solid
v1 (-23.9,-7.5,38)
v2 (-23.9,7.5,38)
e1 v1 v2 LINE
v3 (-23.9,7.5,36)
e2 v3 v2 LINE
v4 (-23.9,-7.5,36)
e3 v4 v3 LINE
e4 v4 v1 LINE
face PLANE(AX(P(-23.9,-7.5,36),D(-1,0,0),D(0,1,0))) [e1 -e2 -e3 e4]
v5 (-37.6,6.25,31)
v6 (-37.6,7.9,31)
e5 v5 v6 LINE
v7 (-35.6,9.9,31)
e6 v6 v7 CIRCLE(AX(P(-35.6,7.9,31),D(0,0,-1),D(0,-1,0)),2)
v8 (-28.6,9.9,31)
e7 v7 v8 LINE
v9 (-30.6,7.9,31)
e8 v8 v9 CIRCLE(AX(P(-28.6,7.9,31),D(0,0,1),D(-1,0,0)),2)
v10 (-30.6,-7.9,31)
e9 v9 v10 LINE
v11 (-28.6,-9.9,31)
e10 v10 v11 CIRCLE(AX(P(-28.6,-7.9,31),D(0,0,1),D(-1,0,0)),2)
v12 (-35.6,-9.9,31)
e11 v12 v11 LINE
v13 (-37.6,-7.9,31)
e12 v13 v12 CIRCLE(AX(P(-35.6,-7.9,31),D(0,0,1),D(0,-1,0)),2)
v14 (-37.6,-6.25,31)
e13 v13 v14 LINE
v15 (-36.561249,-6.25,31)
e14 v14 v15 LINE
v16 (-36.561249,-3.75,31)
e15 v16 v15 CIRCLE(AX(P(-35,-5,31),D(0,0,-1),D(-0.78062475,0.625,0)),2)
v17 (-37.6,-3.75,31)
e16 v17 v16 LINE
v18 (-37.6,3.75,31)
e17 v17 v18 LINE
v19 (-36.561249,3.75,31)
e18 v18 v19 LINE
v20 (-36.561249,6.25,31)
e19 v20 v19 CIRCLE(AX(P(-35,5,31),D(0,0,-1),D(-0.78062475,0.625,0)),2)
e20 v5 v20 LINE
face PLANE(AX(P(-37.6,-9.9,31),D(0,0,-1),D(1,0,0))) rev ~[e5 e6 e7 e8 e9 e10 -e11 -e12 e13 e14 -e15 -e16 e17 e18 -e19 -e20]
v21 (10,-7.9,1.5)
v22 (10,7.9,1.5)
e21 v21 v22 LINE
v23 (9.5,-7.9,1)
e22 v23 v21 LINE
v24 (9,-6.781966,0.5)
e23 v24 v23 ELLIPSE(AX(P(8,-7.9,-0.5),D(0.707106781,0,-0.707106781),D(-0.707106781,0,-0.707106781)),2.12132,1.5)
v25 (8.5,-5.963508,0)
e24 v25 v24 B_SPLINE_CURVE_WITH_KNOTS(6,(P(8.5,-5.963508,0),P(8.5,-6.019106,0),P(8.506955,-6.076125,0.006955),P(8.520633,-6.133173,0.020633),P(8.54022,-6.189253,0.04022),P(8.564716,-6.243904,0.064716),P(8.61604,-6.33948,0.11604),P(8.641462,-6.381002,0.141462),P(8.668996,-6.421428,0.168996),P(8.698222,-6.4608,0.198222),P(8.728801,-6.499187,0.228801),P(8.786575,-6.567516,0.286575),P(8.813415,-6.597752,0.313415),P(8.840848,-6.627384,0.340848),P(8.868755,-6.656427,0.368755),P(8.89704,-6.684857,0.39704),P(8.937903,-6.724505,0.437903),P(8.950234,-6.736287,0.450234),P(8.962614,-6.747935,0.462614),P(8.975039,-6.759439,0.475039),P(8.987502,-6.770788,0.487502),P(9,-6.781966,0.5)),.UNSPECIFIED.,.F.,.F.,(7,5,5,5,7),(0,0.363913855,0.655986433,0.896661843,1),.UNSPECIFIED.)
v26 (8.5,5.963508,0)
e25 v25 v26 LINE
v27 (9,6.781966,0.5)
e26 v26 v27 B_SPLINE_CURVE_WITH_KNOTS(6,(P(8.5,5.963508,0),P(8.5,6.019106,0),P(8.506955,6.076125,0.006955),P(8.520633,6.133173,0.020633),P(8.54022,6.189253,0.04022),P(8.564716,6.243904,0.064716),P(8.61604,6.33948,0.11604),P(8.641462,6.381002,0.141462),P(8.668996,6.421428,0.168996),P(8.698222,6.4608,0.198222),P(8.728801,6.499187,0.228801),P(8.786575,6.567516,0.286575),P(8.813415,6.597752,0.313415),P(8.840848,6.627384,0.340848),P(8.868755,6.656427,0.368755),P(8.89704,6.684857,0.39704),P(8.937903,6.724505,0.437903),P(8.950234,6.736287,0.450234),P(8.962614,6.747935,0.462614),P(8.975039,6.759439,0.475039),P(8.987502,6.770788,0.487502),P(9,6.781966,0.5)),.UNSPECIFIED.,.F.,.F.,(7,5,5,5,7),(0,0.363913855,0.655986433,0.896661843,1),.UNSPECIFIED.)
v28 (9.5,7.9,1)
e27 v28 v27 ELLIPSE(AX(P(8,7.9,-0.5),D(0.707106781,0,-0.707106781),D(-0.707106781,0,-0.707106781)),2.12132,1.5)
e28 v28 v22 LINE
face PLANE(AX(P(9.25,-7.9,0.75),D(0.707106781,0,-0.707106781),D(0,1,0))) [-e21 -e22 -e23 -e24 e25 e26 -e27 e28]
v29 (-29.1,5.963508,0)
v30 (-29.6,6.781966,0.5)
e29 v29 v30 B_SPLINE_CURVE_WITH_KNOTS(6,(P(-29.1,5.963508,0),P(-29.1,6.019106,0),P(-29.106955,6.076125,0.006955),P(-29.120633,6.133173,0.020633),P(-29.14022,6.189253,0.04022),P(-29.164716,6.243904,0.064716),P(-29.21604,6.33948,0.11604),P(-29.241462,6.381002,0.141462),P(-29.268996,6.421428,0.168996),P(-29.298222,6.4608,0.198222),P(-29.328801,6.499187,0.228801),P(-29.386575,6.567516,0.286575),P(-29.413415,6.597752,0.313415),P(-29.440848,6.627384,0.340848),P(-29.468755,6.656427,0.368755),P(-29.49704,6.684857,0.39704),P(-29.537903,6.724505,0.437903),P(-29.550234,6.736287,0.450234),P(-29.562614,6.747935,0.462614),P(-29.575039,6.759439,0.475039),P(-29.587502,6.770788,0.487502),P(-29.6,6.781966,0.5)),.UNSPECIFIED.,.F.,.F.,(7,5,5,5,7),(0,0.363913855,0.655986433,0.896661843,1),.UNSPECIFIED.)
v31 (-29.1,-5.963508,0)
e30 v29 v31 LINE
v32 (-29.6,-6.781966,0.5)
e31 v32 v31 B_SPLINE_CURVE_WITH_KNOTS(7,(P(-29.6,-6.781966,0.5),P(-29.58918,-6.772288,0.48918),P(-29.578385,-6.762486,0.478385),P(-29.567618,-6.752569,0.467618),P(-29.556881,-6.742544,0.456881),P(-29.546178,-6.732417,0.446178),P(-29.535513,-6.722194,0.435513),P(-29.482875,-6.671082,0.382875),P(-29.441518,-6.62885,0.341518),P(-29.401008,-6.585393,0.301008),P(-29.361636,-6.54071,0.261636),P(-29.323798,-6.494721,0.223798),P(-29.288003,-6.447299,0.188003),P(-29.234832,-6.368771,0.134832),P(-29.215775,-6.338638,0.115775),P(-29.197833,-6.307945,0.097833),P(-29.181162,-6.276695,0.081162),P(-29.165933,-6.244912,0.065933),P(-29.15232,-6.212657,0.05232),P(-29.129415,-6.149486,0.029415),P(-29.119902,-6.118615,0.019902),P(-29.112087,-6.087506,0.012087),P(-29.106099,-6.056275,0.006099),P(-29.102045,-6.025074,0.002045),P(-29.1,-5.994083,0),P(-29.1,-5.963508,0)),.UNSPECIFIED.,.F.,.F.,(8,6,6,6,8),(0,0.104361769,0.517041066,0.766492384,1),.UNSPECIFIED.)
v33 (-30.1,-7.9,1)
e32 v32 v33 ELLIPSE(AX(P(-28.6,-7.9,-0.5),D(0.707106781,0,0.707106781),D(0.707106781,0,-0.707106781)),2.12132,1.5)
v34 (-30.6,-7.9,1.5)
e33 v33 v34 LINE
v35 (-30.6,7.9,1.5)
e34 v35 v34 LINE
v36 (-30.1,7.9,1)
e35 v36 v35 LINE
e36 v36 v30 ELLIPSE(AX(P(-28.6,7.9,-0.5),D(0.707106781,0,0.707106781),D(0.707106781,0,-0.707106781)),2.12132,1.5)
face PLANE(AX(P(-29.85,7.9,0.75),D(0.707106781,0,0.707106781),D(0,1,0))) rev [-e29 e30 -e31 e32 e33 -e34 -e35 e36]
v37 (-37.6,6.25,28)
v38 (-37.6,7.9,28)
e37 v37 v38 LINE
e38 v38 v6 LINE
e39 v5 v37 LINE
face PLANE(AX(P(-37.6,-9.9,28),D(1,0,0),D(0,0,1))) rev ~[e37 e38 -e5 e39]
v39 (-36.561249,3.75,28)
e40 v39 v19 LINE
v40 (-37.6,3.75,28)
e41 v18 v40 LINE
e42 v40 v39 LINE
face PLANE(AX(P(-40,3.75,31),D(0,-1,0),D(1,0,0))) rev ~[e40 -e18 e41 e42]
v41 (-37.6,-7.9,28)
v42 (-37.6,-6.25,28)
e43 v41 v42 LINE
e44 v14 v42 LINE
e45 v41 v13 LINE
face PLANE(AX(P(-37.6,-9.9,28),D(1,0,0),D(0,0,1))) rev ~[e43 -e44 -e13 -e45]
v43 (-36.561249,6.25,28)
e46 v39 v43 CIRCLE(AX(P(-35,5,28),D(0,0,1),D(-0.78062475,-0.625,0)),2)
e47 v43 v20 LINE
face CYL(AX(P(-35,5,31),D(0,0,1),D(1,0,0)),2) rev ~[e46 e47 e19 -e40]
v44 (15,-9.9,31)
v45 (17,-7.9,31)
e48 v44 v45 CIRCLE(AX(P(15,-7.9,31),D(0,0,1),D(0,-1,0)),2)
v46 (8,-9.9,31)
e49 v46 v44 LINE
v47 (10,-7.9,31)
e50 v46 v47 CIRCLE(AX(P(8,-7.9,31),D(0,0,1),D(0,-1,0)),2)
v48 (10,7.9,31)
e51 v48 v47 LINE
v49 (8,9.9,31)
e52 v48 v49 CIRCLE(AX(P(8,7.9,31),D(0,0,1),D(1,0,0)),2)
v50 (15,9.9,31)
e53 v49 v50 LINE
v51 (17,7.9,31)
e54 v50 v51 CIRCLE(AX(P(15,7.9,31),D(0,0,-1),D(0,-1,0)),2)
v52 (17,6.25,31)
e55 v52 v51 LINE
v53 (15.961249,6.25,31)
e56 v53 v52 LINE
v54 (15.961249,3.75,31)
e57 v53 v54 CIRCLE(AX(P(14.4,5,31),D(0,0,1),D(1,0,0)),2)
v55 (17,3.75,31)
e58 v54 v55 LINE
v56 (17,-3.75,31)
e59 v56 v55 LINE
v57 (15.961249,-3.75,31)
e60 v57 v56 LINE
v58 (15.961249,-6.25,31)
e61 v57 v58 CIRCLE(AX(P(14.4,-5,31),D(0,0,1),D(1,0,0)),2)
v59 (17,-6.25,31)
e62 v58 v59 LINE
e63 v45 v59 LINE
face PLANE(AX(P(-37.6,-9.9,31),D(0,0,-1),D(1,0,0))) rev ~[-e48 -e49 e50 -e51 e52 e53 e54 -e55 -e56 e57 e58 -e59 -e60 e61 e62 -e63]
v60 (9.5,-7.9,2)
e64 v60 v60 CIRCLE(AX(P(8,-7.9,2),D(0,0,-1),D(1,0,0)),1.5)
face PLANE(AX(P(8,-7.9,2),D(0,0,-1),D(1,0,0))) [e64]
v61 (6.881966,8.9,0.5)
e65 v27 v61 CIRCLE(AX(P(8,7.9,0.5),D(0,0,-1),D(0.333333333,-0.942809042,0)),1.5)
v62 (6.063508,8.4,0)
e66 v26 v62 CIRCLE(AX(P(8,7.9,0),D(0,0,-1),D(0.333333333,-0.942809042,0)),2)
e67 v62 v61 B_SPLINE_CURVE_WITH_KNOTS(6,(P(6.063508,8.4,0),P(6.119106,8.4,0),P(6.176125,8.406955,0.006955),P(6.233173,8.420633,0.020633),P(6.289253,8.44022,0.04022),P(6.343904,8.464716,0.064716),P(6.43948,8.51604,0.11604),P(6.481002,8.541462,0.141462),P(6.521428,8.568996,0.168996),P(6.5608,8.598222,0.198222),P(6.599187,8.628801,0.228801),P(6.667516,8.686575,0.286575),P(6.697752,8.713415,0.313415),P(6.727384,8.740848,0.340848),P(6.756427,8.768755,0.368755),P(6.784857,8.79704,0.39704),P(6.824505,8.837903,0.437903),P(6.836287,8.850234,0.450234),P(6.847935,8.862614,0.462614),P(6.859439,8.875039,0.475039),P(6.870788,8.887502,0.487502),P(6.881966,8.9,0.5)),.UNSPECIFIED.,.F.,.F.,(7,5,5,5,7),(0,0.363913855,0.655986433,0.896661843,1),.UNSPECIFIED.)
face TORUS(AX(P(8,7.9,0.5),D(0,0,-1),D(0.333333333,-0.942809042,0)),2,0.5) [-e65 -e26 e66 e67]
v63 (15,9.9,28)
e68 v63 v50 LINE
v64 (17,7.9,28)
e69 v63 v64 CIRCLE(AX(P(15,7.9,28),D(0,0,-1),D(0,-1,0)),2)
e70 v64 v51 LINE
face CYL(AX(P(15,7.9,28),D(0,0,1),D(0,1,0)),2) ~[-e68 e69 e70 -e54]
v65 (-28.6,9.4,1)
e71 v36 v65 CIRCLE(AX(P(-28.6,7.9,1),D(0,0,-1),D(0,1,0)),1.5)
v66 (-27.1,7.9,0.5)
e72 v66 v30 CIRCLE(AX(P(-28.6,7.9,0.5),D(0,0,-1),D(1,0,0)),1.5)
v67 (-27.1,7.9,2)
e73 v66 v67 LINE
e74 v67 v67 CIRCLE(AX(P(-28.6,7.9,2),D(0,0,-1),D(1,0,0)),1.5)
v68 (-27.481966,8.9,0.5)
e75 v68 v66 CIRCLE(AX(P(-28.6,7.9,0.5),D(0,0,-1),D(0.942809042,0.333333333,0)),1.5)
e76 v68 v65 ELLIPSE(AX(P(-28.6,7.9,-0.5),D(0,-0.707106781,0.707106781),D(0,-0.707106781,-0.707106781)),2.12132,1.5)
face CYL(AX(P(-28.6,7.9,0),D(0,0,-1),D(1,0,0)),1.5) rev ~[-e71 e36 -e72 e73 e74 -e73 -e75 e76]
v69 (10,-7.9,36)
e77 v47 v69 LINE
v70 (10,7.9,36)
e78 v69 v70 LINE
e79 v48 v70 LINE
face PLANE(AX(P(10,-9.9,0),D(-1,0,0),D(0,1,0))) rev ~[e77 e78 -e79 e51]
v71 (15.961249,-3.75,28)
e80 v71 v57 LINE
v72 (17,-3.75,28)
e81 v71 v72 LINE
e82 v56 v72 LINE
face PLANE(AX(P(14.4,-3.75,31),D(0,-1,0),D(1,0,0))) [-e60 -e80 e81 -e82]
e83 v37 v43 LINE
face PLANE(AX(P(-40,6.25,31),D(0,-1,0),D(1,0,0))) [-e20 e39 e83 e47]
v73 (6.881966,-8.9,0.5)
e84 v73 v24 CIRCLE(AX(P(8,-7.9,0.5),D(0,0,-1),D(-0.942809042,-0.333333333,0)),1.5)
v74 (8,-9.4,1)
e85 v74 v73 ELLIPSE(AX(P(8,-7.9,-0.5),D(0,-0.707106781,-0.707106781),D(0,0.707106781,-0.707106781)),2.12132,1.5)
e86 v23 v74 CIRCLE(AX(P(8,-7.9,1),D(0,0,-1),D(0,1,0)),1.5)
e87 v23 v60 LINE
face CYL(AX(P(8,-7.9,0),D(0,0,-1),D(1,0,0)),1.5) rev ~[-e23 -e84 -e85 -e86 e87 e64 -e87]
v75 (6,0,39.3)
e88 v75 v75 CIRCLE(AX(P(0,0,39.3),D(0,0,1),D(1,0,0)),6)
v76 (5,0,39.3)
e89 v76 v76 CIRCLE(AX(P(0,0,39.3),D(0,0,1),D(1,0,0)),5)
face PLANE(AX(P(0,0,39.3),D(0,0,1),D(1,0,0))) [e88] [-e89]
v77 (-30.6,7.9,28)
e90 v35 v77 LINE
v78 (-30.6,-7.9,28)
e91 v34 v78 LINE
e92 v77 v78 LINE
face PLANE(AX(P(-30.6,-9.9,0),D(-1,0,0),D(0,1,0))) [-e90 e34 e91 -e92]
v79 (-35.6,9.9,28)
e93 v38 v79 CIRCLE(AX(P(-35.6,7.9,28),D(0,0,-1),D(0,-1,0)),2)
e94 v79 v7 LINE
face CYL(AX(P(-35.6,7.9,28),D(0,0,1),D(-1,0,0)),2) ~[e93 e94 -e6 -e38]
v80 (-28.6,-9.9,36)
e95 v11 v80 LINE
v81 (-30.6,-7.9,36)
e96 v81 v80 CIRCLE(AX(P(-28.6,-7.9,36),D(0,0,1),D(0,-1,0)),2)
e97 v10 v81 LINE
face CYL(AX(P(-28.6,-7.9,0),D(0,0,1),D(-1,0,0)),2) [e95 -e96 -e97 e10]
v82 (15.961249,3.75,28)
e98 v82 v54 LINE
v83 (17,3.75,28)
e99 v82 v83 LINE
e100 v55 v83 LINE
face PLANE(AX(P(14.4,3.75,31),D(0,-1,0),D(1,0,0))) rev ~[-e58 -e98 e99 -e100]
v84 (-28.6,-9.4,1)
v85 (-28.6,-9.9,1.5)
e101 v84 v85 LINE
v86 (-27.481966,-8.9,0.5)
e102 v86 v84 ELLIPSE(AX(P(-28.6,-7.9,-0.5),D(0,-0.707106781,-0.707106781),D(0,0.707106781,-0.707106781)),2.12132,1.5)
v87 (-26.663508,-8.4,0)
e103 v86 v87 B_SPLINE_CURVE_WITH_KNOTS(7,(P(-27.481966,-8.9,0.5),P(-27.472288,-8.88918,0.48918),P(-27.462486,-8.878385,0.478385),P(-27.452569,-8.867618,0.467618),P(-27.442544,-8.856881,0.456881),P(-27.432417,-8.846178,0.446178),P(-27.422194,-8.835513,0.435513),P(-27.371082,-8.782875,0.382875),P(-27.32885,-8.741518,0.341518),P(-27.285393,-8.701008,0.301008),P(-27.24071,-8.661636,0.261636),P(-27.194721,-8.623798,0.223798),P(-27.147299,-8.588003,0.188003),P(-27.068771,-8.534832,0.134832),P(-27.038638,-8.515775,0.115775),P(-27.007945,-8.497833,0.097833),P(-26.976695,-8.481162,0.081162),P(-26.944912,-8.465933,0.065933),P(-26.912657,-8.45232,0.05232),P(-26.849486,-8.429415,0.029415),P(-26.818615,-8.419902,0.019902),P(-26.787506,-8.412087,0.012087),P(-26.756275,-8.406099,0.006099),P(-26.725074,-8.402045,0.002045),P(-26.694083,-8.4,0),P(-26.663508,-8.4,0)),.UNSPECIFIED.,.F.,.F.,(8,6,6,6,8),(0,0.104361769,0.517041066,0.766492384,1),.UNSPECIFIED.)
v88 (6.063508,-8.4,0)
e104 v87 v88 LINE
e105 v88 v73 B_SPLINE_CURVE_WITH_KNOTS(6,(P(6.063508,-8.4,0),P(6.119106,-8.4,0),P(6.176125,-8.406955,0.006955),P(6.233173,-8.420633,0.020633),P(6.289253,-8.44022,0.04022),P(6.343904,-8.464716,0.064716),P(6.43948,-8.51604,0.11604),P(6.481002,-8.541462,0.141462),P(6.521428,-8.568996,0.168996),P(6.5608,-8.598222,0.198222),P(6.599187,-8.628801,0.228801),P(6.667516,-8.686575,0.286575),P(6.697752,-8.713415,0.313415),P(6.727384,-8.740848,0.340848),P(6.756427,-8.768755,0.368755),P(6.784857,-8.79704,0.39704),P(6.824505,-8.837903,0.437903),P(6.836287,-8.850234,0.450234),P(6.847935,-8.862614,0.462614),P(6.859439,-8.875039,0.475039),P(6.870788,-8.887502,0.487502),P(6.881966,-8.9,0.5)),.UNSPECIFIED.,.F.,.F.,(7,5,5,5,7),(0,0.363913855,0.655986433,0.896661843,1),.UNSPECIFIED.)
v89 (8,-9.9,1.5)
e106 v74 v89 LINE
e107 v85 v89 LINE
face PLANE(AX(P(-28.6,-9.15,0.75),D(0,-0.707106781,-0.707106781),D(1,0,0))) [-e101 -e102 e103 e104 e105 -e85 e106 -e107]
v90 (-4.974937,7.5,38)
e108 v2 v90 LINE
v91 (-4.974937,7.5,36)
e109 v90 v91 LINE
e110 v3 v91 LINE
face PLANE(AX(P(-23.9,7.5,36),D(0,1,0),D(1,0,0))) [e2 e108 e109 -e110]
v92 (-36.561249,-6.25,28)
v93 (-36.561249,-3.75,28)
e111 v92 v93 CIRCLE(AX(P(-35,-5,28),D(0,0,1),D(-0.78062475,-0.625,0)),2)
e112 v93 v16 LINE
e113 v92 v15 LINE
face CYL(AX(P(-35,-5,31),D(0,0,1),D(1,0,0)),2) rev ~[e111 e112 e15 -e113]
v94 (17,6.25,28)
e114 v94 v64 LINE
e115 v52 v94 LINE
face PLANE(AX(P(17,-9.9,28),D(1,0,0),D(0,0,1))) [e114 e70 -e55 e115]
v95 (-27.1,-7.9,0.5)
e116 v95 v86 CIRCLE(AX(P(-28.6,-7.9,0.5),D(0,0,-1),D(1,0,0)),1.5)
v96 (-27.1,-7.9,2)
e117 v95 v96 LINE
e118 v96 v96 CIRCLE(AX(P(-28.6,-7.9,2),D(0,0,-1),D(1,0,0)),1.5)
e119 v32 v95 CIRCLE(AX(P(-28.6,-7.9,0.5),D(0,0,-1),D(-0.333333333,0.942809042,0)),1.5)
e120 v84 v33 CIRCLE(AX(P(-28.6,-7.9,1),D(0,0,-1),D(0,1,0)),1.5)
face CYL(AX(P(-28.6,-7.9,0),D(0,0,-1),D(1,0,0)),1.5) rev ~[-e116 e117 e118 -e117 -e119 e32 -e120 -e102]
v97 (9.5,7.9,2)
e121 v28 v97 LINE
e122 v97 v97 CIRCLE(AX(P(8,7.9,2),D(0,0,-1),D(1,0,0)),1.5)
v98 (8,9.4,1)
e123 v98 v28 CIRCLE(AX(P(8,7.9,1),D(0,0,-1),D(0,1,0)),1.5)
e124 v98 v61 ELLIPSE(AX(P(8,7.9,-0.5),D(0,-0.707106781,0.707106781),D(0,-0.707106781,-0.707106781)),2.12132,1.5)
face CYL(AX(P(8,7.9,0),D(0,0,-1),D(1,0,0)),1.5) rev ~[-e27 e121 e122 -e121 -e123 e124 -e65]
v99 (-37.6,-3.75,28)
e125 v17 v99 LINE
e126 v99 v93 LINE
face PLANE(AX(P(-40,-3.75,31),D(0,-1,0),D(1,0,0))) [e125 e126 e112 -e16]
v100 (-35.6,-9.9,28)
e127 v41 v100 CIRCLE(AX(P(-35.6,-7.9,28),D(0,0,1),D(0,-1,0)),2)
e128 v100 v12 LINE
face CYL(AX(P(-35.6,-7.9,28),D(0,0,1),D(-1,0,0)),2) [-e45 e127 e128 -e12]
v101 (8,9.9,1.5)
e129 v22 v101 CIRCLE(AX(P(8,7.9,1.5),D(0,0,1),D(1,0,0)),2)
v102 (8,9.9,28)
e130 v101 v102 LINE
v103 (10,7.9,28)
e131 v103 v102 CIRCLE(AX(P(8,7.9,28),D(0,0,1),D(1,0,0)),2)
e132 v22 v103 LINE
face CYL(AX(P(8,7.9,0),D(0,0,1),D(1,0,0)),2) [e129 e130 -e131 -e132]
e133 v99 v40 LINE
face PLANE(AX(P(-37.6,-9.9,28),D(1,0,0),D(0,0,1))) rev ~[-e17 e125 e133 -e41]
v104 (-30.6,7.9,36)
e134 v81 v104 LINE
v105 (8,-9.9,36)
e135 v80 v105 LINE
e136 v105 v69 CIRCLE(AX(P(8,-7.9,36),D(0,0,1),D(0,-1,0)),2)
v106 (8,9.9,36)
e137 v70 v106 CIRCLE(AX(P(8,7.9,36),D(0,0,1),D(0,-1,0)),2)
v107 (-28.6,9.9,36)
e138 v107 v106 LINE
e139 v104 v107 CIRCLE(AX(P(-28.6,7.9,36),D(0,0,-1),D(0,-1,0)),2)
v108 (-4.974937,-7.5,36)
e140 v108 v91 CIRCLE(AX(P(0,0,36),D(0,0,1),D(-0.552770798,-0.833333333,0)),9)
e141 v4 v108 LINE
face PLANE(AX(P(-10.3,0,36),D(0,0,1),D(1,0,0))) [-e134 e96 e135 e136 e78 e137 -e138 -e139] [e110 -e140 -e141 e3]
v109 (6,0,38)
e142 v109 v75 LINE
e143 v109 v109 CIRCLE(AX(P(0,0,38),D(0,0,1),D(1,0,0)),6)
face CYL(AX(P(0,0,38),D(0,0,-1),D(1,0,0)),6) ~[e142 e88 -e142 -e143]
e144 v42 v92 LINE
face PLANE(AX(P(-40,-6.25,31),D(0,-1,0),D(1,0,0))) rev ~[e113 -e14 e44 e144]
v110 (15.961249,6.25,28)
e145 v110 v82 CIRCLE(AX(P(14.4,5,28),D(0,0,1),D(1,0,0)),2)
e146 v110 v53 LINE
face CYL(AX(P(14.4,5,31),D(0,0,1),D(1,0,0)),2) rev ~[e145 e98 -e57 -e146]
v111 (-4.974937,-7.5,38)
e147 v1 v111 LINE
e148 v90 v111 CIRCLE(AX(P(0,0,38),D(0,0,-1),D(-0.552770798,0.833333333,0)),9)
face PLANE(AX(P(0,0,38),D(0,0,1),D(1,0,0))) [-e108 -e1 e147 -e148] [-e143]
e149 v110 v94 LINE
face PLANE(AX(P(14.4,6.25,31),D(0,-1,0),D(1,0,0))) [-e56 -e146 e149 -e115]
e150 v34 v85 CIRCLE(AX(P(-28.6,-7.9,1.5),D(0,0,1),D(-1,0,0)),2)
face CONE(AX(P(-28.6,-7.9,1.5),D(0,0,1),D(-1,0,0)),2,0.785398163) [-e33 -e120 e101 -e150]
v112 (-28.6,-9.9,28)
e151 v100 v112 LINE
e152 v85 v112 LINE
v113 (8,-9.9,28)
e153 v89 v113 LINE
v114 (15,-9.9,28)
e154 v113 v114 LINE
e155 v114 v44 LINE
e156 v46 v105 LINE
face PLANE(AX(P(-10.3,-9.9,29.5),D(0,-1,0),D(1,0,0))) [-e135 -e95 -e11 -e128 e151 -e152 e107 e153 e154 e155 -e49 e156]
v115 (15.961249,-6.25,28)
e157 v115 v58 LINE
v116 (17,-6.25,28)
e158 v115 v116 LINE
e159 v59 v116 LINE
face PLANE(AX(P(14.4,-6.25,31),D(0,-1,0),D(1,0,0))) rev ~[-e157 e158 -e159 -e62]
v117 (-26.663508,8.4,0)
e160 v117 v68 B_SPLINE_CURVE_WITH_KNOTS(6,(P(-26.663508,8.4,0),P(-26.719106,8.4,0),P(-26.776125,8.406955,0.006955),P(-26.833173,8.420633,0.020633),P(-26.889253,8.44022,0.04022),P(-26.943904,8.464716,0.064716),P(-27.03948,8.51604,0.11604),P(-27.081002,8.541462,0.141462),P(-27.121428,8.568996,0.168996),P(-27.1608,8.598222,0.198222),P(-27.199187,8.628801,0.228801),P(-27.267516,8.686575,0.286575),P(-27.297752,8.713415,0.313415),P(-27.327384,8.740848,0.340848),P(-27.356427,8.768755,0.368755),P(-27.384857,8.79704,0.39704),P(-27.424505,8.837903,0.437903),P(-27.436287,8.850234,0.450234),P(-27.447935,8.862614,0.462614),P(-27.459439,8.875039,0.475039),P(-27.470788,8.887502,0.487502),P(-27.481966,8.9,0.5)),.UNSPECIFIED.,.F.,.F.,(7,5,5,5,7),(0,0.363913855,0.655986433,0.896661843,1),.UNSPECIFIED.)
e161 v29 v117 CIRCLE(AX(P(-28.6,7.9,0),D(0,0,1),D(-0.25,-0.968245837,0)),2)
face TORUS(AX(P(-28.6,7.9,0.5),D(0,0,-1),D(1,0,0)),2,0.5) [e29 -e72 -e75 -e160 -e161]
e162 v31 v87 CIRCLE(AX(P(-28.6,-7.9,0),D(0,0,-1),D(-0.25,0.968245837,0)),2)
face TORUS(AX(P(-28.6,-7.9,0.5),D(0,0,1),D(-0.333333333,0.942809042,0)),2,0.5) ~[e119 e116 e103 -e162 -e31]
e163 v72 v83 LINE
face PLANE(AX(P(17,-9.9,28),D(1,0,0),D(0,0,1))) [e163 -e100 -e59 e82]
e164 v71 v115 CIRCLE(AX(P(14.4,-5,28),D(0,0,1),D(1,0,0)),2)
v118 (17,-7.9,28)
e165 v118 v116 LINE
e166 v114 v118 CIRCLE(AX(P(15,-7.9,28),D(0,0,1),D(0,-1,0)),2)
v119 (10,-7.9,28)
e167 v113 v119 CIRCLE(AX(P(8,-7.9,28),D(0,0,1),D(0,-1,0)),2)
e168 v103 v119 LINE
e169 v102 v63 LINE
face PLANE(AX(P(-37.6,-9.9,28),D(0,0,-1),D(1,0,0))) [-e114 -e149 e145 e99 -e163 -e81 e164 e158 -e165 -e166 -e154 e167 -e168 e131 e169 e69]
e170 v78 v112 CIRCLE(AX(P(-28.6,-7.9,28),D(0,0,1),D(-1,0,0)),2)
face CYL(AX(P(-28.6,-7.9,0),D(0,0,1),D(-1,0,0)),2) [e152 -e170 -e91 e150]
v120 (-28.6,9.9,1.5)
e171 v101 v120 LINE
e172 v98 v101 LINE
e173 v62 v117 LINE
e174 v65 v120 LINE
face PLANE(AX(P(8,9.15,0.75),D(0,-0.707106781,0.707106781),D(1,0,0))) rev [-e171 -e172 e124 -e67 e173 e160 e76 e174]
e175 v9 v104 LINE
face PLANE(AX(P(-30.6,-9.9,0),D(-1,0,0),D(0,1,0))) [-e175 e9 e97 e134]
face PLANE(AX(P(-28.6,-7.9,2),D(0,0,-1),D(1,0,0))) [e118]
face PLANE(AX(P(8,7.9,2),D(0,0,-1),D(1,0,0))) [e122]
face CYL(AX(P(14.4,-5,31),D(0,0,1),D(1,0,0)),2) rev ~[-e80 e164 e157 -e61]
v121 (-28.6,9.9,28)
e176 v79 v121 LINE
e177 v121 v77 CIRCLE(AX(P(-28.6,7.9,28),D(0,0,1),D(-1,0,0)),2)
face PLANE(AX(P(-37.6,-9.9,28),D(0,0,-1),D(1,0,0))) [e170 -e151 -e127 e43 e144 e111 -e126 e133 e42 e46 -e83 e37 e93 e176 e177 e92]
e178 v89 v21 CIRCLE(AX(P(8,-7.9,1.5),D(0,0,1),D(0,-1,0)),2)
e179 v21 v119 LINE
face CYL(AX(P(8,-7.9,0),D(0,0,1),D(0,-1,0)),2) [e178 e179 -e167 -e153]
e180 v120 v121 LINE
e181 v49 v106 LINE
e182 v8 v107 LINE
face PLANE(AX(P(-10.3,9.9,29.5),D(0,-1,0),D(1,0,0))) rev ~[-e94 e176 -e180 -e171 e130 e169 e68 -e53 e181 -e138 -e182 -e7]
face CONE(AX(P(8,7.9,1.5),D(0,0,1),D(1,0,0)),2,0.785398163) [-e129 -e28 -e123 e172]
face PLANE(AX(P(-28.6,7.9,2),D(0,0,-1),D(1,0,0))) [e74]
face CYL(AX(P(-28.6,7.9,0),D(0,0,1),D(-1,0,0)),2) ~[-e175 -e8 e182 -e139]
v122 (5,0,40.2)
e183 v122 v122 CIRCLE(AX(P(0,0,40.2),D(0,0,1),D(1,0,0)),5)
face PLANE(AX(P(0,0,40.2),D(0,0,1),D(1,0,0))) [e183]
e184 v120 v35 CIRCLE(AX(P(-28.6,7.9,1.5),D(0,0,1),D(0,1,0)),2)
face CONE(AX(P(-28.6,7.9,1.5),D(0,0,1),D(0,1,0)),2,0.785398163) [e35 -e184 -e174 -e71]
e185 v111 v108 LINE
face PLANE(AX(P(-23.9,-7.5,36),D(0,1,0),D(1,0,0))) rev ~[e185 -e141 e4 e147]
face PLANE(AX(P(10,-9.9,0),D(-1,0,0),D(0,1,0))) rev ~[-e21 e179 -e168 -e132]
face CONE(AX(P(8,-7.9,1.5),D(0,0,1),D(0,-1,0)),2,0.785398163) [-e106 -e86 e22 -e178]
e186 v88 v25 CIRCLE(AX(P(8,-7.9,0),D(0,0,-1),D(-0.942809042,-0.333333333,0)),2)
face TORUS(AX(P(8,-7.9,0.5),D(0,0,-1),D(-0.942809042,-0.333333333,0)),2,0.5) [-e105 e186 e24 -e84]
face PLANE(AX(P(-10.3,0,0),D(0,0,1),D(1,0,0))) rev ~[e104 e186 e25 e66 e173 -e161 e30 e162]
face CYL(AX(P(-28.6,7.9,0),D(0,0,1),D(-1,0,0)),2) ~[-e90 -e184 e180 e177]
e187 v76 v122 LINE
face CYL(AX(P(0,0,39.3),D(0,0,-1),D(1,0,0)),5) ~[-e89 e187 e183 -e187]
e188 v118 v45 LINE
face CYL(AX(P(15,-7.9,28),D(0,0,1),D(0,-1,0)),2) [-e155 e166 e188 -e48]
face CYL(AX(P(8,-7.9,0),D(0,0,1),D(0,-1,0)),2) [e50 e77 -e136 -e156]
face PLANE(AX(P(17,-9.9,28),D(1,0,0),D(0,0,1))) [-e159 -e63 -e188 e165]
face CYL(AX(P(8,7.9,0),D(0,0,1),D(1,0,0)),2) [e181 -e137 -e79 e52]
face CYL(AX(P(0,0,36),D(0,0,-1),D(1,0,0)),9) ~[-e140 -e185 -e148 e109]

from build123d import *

# Parameters (mm, degrees)
SKETCH007_R      = 6
EXTRUDE007_DEPTH = 1.3
SKETCH008_R      = 5
EXTRUDE008_DEPTH = 0.9
SKETCH004_W      = 5
SKETCH004_H      = 2.5
EXTRUDE004_DEPTH = 3
SKETCH003_R      = 2
EXTRUDE003_DEPTH = 3
SKETCH002_W      = 54.6
SKETCH002_H      = 3
EXTRUDE002_DEPTH = 19.8
SKETCH001_R      = 1.5
EXTRUDE001_DEPTH = 2
SKETCH_W         = 40.6
SKETCH_H         = 19.8
EXTRUDE_DEPTH    = 36
FILLET_R         = 2
CHAMFER_SIZE     = 1.5
FILLET001_R      = 0.5
FILLET002_R      = 2
SKETCH005_R      = 9
EXTRUDE005_DEPTH = 2
SKETCH006_W      = 23.9
SKETCH006_H      = 15
EXTRUDE006_DEPTH = 2


with BuildPart() as extrude007:
    # Sketch007 (on Face81 of Fusion002) → Extrude007 (new body)
    with BuildSketch(Plane.XY.offset(38)):
        Circle(SKETCH007_R)
    extrude(amount=EXTRUDE007_DEPTH)


with BuildPart() as extrude008:
    # Sketch008 (on Face3 of Extrude007) → Extrude008 (new body)
    with BuildSketch(Plane.XY.offset(39.3)):
        Circle(SKETCH008_R)
    extrude(amount=EXTRUDE008_DEPTH)


with BuildPart() as extrude004:
    # Sketch004 (on Face13 of Cut001) → Extrude004 (new body)
    with BuildSketch(Plane.XY.offset(31)):
        with Locations((-37.5, 5)):
            Rectangle(SKETCH004_W, SKETCH004_H)
        with Locations((16.9, 5)):
            Rectangle(SKETCH004_W, SKETCH004_H)
        with Locations((16.9, -5)):
            Rectangle(SKETCH004_W, SKETCH004_H)
        with Locations((-37.5, -5)):
            Rectangle(SKETCH004_W, SKETCH004_H)
    extrude(amount=-EXTRUDE004_DEPTH)


with BuildPart() as extrude003:
    # Sketch003 (on Face11 of Fillet002) → Extrude003 (new body)
    with BuildSketch(Plane.XY.offset(31)):
        with Locations((-35, 5)):
            Circle(SKETCH003_R)
        with Locations((-35, -5)):
            Circle(SKETCH003_R)
        with Locations((14.4, 5)):
            Circle(SKETCH003_R)
        with Locations((14.4, -5)):
            Circle(SKETCH003_R)
    extrude(amount=-EXTRUDE003_DEPTH)


with BuildPart() as extrude002:
    # Sketch002 (on Face6 of Fillet001) → Extrude002 (new body)
    with BuildSketch(Plane.XZ.offset(9.9)):
        with Locations((-10.3, 29.5)):
            Rectangle(SKETCH002_W, SKETCH002_H)
    extrude(amount=-EXTRUDE002_DEPTH)


with BuildPart() as extrude001:
    # Sketch001 (on Face8 of Chamfer) → Extrude001 (new body)
    with BuildSketch(Plane(origin=(0, 0, 0), x_dir=(1, 0, 0), z_dir=(0, 0, -1))):
        with Locations((-28.6, 7.9)):
            Circle(SKETCH001_R)
        with Locations((8, 7.9)):
            Circle(SKETCH001_R)
        with Locations((-28.6, -7.9)):
            Circle(SKETCH001_R)
        with Locations((8, -7.9)):
            Circle(SKETCH001_R)
    extrude(amount=-EXTRUDE001_DEPTH)


with BuildPart() as cut002:
    # Sketch → Extrude (new body)
    with BuildSketch(Plane.XY):
        with Locations((-10.3, 0)):
            Rectangle(SKETCH_W, SKETCH_H)
    extrude(amount=EXTRUDE_DEPTH)

    # Fillet
    fillet_edges = [cut002.edges().sort_by_distance(p)[0] for p in [
        (-30.6, -9.9, 18),
        (10, -9.9, 18),
        (10, 9.9, 18),
        (-30.6, 9.9, 18),
    ]]
    fillet(fillet_edges, radius=FILLET_R)

    # Chamfer
    chamfer_edges = [cut002.edges().sort_by_distance(p)[0] for p in [
        (-10.3, -9.9, 0),
        (-30.014214, -9.314214, 0),
        (9.414214, -9.314214, 0),
        (-30.6, 0, 0),
        (10, 0, 0),
        (-30.014214, 9.314214, 0),
        (9.414214, 9.314214, 0),
        (-10.3, 9.9, 0),
    ]]
    chamfer(chamfer_edges, length=CHAMFER_SIZE)

    # Cut: cut Extrude001
    add(extrude001.part, mode=Mode.SUBTRACT)

    # Fillet001
    fillet001_edges = [cut002.edges().sort_by_distance(p)[0] for p in [
        (-27.733975, -6.675255, 0),
        (-27.733975, 6.675255, 0),
        (6.93934, 6.83934, 0),
        (6.93934, -6.83934, 0),
    ]]
    fillet(fillet001_edges, radius=FILLET001_R)

    # Fusion: union Extrude002
    add(extrude002.part)

    # Fillet002
    fillet002_edges = [cut002.edges().sort_by_distance(p)[0] for p in [
        (-37.6, -9.9, 29.5),
        (-37.6, 9.9, 29.5),
        (17, -9.9, 29.5),
        (17, 9.9, 29.5),
    ]]
    fillet(fillet002_edges, radius=FILLET002_R)

    # Cut001: cut Extrude003
    add(extrude003.part, mode=Mode.SUBTRACT)

    # Cut002: cut Extrude004
    add(extrude004.part, mode=Mode.SUBTRACT)


with BuildPart() as extrude005:
    # Sketch005 (on Face48 of Cut002) → Extrude005 (new body)
    with BuildSketch(Plane.XY.offset(36)):
        Circle(SKETCH005_R)
    extrude(amount=EXTRUDE005_DEPTH)


with BuildPart() as fusion003:
    # Sketch006 (on Face48 of Cut002) → Extrude006 (new body)
    with BuildSketch(Plane.XY.offset(36)):
        with Locations((-11.95, 0)):
            Rectangle(SKETCH006_W, SKETCH006_H)
    extrude(amount=EXTRUDE006_DEPTH)

    # Fusion001: union Extrude005
    add(extrude005.part)

    # Fusion002: union Cut002
    add(cut002.part)

    # Fusion003: union Extrude007, Extrude008
    add(extrude007.part)
    add(extrude008.part)


solid = fusion003.part
